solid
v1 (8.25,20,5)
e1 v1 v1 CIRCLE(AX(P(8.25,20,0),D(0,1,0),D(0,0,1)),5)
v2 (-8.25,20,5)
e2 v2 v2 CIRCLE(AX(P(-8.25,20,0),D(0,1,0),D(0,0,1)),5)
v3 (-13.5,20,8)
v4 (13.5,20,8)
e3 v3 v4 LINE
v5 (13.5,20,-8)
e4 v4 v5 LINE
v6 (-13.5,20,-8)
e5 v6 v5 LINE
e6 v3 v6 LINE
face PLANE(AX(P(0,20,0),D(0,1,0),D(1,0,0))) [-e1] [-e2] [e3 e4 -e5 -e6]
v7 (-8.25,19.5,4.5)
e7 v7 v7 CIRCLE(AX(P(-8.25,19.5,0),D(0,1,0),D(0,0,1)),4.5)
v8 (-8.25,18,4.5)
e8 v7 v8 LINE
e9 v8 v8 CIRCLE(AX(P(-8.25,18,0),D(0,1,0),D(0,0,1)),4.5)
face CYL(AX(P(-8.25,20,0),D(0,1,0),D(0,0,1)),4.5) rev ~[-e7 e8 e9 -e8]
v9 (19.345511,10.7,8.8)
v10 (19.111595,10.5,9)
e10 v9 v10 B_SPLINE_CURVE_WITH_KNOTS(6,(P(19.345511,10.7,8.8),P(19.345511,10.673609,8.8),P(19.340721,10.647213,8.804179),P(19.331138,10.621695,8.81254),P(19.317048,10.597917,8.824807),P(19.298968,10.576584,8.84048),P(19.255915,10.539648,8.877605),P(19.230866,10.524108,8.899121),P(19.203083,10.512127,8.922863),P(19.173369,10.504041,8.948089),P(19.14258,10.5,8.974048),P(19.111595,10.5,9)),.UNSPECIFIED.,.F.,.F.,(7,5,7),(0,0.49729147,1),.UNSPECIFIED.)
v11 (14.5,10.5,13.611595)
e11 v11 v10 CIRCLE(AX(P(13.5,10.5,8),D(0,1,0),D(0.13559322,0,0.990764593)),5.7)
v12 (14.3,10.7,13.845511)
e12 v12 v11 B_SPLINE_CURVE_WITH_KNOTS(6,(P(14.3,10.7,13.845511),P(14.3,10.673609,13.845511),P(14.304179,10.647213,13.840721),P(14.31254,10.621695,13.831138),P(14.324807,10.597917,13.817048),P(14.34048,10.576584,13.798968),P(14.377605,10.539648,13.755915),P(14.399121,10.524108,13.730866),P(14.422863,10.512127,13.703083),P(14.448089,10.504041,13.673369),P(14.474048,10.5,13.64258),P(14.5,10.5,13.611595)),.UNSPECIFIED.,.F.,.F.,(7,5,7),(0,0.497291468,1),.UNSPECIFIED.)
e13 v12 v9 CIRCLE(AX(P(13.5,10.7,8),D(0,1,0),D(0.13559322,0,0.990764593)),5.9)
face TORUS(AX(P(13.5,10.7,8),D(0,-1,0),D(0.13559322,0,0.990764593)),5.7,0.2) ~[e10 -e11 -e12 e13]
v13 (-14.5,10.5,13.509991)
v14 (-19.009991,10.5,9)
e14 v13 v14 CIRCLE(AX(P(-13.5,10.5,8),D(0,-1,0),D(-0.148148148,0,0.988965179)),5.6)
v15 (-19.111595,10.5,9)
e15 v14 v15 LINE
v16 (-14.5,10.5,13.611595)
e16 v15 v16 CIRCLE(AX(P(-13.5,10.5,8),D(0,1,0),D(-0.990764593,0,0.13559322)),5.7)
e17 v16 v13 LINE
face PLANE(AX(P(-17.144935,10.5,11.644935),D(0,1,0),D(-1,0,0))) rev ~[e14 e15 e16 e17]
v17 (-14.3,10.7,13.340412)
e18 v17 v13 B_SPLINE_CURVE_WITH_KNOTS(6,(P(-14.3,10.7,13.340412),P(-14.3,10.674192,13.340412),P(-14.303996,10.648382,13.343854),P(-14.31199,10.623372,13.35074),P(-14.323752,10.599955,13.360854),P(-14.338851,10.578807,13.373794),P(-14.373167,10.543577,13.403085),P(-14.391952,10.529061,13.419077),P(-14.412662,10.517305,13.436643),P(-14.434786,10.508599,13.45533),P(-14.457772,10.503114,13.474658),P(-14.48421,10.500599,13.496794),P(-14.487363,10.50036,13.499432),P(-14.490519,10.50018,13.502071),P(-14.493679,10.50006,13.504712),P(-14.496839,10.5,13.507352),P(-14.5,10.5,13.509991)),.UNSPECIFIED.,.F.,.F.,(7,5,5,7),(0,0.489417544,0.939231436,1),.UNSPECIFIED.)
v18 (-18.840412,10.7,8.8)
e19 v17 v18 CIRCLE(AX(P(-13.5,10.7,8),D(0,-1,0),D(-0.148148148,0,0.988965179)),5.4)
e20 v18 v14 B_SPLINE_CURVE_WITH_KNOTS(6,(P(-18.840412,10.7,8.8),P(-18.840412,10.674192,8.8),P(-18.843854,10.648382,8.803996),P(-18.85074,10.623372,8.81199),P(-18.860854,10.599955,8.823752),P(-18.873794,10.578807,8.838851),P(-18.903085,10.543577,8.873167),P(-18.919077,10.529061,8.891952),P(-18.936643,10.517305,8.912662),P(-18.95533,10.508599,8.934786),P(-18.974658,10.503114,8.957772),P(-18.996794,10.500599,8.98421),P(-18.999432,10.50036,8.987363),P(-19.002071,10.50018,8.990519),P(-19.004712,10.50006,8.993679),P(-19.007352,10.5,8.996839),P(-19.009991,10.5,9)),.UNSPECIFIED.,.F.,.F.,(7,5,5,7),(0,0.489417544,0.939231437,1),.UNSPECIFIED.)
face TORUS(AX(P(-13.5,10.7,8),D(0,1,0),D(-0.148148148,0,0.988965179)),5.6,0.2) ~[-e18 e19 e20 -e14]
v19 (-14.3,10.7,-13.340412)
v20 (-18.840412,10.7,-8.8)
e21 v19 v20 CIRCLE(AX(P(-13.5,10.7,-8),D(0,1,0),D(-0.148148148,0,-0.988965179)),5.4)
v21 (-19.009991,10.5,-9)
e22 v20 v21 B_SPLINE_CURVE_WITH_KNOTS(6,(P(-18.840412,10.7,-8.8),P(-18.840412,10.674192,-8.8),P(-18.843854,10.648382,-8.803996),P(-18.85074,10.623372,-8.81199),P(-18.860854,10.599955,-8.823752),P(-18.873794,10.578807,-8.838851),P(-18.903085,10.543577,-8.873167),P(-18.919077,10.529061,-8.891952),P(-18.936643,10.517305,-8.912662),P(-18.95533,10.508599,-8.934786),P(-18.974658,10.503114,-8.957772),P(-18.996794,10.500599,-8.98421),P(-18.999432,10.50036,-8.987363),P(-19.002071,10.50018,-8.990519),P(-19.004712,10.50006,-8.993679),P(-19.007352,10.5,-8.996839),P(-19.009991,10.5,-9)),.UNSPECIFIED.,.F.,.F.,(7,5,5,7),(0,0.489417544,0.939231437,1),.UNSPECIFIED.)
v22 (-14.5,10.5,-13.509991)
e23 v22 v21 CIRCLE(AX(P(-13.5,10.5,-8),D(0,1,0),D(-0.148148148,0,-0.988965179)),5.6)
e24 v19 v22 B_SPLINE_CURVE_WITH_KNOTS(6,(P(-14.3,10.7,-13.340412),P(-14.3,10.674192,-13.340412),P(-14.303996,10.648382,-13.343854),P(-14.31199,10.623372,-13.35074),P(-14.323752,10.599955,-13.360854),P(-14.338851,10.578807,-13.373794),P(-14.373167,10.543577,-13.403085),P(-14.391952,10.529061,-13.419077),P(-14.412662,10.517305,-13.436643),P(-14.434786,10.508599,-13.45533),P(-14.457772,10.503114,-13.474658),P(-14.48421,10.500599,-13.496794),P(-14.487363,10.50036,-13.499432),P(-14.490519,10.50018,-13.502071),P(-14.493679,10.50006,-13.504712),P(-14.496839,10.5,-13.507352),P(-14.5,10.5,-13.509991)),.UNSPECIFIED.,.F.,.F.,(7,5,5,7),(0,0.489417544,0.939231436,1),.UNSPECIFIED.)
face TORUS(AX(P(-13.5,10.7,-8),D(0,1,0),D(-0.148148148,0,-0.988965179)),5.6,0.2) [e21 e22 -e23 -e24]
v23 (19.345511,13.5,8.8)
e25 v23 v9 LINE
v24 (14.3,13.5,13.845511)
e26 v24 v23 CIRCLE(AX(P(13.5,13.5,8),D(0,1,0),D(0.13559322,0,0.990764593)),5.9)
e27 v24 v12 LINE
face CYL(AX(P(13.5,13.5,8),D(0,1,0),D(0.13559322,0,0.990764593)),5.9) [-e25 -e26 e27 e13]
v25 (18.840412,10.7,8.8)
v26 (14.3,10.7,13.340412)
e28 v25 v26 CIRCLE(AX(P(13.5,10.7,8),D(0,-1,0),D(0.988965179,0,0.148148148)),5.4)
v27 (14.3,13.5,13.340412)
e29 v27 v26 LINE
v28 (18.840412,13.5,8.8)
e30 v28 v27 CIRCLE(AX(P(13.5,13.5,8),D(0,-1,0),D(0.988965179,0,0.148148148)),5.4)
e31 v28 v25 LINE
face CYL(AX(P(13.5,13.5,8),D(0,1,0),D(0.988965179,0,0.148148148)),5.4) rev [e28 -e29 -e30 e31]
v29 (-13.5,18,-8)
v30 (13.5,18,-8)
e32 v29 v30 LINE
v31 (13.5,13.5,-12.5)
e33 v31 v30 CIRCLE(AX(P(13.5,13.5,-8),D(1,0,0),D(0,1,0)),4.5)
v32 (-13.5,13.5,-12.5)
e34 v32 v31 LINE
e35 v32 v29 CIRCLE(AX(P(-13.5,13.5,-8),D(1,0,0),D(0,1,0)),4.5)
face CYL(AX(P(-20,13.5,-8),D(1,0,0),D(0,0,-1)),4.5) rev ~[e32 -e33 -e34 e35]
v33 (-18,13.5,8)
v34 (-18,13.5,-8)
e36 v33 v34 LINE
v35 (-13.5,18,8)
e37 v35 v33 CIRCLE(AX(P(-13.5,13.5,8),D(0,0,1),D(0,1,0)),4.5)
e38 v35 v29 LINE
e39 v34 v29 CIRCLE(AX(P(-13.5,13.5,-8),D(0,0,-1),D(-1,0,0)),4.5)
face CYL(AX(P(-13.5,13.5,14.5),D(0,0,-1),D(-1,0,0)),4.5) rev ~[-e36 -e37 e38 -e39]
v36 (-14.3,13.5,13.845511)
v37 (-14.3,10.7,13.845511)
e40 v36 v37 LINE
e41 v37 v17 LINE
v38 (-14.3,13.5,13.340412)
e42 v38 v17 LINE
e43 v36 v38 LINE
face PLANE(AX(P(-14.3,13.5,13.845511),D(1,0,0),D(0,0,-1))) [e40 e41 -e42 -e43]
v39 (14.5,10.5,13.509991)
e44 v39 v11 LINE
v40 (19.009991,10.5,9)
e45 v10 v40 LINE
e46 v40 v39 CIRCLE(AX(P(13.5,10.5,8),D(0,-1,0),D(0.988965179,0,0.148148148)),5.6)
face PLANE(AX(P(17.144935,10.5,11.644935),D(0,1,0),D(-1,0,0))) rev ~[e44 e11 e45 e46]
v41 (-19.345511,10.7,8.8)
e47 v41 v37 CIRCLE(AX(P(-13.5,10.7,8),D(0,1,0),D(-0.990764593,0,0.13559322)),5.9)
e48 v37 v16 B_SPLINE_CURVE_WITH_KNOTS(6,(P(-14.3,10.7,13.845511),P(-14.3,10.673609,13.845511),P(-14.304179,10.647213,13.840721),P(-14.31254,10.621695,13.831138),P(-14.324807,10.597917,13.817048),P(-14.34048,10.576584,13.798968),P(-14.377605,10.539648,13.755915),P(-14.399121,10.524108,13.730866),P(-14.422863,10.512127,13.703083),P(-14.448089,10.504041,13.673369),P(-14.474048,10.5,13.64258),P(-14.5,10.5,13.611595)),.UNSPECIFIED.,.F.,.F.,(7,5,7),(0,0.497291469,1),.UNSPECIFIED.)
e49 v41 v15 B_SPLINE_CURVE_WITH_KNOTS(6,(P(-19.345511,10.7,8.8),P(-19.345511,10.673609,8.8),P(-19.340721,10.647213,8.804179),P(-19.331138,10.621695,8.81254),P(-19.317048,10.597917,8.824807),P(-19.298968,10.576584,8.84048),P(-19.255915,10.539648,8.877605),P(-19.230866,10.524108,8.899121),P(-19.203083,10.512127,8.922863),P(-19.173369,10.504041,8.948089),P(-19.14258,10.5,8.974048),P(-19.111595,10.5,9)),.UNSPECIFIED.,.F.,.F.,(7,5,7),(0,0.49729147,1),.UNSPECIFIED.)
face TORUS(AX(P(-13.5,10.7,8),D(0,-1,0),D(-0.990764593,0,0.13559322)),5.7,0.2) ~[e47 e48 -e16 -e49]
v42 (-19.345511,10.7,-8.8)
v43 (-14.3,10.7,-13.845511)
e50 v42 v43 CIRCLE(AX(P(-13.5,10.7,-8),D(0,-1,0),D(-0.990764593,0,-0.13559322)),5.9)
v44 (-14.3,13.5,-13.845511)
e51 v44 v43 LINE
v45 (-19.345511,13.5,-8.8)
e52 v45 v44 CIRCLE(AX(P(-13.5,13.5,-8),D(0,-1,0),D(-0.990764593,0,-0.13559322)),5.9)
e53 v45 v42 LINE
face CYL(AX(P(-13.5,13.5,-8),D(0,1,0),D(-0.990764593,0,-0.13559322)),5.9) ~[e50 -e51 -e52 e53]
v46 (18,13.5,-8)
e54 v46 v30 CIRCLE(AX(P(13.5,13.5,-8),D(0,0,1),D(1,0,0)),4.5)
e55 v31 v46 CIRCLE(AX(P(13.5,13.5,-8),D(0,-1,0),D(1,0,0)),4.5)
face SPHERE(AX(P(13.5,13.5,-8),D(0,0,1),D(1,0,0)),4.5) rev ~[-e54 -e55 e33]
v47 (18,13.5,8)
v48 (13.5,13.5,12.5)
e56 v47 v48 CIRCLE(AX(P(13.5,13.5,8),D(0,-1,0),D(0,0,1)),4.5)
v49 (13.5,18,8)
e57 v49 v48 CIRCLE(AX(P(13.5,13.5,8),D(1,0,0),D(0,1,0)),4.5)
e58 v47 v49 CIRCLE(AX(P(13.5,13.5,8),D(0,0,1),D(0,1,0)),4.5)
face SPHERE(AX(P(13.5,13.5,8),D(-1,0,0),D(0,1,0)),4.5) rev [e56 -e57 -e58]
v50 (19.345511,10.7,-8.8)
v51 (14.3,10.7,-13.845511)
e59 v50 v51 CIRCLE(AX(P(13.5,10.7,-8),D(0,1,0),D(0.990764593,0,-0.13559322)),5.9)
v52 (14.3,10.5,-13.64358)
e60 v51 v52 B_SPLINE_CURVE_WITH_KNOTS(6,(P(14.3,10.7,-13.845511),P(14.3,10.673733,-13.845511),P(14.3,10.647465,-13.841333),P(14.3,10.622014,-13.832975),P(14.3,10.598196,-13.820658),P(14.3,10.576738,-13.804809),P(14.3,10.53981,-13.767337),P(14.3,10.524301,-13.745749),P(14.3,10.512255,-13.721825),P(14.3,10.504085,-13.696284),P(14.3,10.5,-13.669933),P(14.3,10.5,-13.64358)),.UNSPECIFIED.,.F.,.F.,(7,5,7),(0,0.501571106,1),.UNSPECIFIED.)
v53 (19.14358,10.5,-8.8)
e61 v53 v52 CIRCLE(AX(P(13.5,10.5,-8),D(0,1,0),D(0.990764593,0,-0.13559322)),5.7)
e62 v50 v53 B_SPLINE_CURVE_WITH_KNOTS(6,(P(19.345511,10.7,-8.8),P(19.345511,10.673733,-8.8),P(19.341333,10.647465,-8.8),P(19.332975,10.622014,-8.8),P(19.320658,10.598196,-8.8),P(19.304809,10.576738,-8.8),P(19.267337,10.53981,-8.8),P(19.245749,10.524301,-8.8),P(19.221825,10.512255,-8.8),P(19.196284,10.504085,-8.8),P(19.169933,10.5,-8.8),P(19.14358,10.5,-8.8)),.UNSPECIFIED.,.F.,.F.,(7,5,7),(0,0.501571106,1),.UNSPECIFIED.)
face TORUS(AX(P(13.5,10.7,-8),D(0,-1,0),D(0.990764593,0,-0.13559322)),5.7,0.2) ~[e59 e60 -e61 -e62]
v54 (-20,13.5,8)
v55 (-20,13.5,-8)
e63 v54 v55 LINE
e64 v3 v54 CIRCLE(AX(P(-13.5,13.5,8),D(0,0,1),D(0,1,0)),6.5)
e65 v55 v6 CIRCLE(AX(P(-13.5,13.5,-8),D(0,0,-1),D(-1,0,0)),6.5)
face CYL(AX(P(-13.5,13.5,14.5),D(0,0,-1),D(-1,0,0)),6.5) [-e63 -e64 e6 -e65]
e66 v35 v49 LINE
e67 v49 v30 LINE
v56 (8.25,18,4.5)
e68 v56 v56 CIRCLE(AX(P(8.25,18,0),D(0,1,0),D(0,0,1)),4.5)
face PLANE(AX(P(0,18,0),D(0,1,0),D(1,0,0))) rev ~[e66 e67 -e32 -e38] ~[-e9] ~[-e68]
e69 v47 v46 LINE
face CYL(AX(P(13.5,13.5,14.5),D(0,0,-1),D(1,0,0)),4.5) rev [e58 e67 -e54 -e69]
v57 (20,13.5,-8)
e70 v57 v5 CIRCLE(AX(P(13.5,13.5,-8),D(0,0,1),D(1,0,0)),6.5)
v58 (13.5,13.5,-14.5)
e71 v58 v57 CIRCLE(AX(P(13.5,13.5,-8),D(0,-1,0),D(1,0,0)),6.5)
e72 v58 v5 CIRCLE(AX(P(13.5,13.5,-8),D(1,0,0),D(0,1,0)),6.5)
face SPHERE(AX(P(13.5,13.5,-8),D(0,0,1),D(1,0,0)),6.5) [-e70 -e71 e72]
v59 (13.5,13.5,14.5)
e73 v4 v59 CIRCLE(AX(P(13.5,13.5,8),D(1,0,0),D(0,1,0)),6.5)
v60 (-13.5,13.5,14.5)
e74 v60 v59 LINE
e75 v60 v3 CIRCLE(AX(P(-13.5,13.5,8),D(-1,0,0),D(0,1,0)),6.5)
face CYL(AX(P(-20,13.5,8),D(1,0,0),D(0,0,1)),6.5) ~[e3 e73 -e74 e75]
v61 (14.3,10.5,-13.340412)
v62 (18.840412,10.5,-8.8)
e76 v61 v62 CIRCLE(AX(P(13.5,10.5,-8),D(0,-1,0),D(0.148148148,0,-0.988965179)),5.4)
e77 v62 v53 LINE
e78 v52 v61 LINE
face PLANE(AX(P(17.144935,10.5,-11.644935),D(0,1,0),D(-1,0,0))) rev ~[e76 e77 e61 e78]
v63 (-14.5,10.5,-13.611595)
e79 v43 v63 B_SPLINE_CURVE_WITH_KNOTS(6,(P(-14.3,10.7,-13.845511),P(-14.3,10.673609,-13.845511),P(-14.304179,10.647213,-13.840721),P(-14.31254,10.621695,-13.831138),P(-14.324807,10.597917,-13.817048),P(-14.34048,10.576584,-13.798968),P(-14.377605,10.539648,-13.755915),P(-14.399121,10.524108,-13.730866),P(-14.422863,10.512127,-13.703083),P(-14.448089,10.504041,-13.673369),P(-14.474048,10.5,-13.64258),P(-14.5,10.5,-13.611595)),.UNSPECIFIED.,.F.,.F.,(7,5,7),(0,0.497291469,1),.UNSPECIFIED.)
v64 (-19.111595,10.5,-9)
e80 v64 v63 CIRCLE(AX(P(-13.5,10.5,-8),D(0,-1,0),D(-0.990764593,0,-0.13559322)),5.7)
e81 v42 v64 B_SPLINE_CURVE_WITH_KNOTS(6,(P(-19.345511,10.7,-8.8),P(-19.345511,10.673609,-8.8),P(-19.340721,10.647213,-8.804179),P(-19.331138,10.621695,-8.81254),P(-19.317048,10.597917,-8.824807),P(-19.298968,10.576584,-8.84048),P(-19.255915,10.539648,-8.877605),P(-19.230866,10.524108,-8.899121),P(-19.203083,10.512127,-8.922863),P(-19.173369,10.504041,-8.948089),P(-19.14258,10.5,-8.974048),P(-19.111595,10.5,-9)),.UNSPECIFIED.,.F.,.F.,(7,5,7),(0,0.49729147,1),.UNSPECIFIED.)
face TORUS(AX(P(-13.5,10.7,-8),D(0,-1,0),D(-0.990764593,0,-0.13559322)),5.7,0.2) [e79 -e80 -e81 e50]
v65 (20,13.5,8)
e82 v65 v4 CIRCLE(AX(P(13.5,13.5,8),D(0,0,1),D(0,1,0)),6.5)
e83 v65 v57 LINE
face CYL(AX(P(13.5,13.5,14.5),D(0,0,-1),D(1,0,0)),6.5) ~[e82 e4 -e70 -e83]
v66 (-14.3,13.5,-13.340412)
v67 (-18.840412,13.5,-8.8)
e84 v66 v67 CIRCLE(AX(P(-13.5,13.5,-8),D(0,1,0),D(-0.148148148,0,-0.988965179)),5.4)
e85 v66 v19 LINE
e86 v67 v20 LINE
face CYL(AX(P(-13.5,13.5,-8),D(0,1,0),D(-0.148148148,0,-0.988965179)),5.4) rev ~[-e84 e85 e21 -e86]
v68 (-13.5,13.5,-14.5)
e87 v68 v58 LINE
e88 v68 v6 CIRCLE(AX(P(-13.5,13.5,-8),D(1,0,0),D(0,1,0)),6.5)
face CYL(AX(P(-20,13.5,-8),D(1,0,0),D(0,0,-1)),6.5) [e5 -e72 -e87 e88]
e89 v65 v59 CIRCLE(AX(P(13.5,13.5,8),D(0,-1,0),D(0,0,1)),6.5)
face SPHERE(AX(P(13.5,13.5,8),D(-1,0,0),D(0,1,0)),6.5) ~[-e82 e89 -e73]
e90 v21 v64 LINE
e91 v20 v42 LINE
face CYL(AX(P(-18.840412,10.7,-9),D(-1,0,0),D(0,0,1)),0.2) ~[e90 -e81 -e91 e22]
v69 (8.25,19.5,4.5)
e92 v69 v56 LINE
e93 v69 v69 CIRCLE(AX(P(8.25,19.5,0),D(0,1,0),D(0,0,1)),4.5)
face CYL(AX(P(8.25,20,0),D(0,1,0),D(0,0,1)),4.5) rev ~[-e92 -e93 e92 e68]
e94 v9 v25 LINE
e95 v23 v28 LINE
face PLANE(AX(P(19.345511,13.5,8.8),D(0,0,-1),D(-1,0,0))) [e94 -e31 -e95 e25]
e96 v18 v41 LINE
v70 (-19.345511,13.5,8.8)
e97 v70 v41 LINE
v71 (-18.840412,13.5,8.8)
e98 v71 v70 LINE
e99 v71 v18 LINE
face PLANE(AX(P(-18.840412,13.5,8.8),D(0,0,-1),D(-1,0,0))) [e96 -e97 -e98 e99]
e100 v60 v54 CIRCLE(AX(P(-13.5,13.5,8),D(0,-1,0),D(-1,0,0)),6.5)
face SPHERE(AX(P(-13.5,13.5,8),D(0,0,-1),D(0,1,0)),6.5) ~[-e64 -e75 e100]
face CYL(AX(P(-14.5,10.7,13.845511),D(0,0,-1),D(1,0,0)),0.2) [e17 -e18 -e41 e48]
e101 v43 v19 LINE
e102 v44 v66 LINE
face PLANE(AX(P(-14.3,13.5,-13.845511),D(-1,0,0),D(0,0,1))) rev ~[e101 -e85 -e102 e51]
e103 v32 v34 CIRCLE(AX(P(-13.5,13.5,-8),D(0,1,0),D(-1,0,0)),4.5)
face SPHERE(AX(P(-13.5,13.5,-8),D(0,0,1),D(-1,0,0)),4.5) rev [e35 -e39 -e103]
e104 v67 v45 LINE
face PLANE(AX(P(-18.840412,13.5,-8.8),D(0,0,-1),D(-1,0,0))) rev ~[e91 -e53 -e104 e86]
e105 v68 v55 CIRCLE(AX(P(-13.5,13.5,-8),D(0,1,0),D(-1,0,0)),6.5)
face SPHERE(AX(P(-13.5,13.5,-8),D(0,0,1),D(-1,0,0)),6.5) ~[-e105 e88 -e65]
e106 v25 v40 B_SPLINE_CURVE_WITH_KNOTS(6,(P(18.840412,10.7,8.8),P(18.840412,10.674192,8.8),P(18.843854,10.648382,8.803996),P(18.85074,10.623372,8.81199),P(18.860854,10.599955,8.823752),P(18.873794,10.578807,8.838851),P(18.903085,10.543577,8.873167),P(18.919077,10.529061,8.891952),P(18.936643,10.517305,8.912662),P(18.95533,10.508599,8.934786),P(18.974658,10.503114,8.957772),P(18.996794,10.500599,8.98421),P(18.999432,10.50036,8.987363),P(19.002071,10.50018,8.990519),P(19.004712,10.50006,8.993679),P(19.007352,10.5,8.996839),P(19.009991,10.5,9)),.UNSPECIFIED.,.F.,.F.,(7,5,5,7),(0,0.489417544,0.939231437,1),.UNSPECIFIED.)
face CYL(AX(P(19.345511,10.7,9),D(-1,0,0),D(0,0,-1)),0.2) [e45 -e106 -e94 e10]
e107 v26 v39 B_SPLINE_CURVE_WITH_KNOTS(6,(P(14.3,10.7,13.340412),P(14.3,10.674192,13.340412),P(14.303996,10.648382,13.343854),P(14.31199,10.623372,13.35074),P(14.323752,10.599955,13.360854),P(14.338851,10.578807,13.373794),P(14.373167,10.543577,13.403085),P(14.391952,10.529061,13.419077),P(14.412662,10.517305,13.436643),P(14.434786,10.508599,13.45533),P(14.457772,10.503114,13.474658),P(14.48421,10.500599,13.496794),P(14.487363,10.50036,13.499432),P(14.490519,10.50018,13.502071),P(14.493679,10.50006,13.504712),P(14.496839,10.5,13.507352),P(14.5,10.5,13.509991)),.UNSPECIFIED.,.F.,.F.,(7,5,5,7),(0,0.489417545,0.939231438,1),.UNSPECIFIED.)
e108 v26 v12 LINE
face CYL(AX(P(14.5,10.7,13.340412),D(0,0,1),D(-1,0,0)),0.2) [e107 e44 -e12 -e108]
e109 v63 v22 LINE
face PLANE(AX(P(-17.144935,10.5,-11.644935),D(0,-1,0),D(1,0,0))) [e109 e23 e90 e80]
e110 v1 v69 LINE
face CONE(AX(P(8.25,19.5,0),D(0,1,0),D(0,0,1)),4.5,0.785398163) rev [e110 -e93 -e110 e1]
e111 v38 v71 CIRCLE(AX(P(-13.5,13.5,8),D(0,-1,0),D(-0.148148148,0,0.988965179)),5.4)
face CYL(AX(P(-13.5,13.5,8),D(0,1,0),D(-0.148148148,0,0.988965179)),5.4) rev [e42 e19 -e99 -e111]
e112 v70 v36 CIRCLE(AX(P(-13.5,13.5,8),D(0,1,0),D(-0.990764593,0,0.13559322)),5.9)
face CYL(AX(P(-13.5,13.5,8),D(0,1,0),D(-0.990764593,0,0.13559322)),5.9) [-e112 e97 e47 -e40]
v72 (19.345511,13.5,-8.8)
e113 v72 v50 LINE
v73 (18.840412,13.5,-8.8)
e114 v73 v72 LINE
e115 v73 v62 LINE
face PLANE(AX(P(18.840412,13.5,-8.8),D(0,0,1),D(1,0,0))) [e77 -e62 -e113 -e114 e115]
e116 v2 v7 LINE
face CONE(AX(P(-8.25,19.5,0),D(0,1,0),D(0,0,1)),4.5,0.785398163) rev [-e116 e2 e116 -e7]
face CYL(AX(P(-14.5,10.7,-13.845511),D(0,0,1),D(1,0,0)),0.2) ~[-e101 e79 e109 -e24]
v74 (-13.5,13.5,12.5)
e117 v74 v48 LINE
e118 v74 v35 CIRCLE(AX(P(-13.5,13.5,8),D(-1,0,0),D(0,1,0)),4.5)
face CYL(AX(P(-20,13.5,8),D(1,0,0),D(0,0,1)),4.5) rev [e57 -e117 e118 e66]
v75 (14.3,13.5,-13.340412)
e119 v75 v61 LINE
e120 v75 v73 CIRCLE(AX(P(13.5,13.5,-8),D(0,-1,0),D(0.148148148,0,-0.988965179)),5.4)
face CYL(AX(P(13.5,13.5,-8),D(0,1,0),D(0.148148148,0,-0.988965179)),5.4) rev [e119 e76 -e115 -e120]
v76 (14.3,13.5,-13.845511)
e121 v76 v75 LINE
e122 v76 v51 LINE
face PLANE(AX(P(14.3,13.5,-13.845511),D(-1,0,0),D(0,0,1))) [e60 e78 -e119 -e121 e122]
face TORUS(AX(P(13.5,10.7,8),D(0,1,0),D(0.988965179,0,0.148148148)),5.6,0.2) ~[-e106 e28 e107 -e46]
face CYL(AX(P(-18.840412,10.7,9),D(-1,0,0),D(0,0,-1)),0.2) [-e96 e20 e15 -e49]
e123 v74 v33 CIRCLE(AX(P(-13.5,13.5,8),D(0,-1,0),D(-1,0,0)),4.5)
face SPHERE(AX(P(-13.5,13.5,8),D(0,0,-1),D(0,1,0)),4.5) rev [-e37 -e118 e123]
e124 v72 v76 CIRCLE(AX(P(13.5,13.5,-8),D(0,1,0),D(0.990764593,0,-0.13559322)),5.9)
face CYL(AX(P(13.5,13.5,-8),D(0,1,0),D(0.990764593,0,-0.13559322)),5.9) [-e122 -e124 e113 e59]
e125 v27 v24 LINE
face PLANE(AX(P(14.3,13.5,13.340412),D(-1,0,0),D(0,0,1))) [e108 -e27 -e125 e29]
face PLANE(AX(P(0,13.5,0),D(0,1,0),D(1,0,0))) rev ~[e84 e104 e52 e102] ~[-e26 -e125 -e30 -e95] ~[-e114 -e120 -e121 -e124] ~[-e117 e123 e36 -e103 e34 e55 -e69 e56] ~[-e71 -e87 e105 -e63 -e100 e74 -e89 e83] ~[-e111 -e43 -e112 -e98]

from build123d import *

# Parameters (mm, degrees)
SKETCH1_W           = 40
SKETCH1_H           = 29
BOSS_EXTRUDE1_DEPTH = 20
FILLET2_R           = 6.5
SKETCH3_W           = 48.982601016
SKETCH3_H           = 39.309165856
CUT_EXTRUDE1_DEPTH  = 14.5
SHELL1_T            = -2
BOSS_EXTRUDE3_DEPTH = 3
FILLET3_R           = 0.2
SKETCH6_R           = 4.5
CUT_EXTRUDE2_DEPTH  = 10.5000001
CHAMFER1_SIZE       = 0.5


with BuildPart() as part:
    # Sketch1 → Boss-Extrude1 (new body)
    with BuildSketch(Plane(origin=(0, 0, 0), x_dir=(1, 0, 0), z_dir=(0, 1, 0))):
        Rectangle(SKETCH1_W, SKETCH1_H)
    extrude(amount=BOSS_EXTRUDE1_DEPTH)

    # Fillet2
    fillet2_edges = [part.edges().sort_by_distance(p)[0] for p in [
        (-20, 20, 0),
        (0, 20, 14.5),
        (20, 20, 0),
        (0, 0, 14.5),
        (-20, 0, 0),
        (0, 0, -14.5),
        (20, 0, 0),
        (20, 10, 14.5),
        (-20, 10, 14.5),
        (-20, 10, -14.5),
        (20, 10, -14.5),
        (0, 20, -14.5),
    ]]
    fillet(fillet2_edges, radius=FILLET2_R)

    # Sketch3 → Cut-Extrude1 (cut, through all)
    with BuildSketch(Plane(origin=(0, 13.5, 0), x_dir=(1, 0, 0), z_dir=(0, 1, 0))):
        Rectangle(SKETCH3_W, SKETCH3_H)
    extrude(amount=-CUT_EXTRUDE1_DEPTH, mode=Mode.SUBTRACT)

    # Shell1
    shell1_openings = [part.faces().sort_by_distance(p)[0] for p in [
        (0, 13.5, 0),
    ]]
    offset(amount=SHELL1_T, openings=shell1_openings)

    # Sketch5 → Boss-Extrude3 (add)
    with BuildSketch(Plane.XZ.offset(-13.5)):
        with BuildLine():
            Line((-14.3, 13.845511098), (-14.3, 13.340411969))
            ThreePointArc((-14.3, 13.340411969), (-17.318376618, 11.818376618), (-18.840411969, 8.8))
            Line((-18.840411969, 8.8), (-19.345511098, 8.8))
            ThreePointArc((-19.345511098, 8.8), (-17.671930009, 12.171930009), (-14.3, 13.845511098))
        make_face()
        with BuildLine():
            Line((-14.3, -13.845511098), (-14.3, -13.340411969))
            ThreePointArc((-14.3, -13.340411969), (-17.318376618, -11.818376618), (-18.840411969, -8.8))
            Line((-18.840411969, -8.8), (-19.345511098, -8.8))
            ThreePointArc((-19.345511098, -8.8), (-17.671930009, -12.171930009), (-14.3, -13.845511098))
        make_face()
        with BuildLine():
            Line((14.3, -13.845511098), (14.3, -13.340411969))
            ThreePointArc((14.3, -13.340411969), (17.318376618, -11.818376618), (18.840411969, -8.8))
            Line((18.840411969, -8.8), (19.345511098, -8.8))
            ThreePointArc((19.345511098, -8.8), (17.671930009, -12.171930009), (14.3, -13.845511098))
        make_face()
        with BuildLine():
            Line((19.345511098, 8.8), (18.840411969, 8.8))
            ThreePointArc((18.840411969, 8.8), (17.318376618, 11.818376618), (14.3, 13.340411969))
            Line((14.3, 13.340411969), (14.3, 13.845511098))
            ThreePointArc((14.3, 13.845511098), (17.671930009, 12.171930009), (19.345511098, 8.8))
        make_face()
    extrude(amount=BOSS_EXTRUDE3_DEPTH)

    # Fillet3
    fillet3_edges = [part.edges().sort_by_distance(p)[0] for p in [
        (-17.318376618, 10.5, 11.818376618),
        (-17.671930009, 10.5, 12.171930009),
        (-17.318376618, 10.5, -11.818376618),
        (-17.671930009, 10.5, -12.171930009),
        (17.318376618, 10.5, 11.818376618),
        (17.671930009, 10.5, 12.171930009),
        (17.671930009, 10.5, -12.171930009),
        (-14.3, 10.5, 13.592961534),
        (-19.092961534, 10.5, 8.8),
        (-19.092961534, 10.5, -8.8),
        (-14.3, 10.5, -13.592961534),
        (19.092961534, 10.5, 8.8),
        (14.3, 10.5, 13.592961534),
    ]]
    fillet(fillet3_edges, radius=FILLET3_R)

    # Sketch6 → Cut-Extrude2 (cut, through all)
    with BuildSketch(Plane(origin=(0, 20, 0), x_dir=(1, 0, 0), z_dir=(0, 1, 0))):
        with Locations(Location((-8.25, 0, 0), (0, 0, 270))):  # turned: the seam where the file's is
            Circle(SKETCH6_R)
        with Locations(Location((8.25, 0, 0), (0, 0, 270))):  # turned: the seam where the file's is
            Circle(SKETCH6_R)
    extrude(amount=-CUT_EXTRUDE2_DEPTH, mode=Mode.SUBTRACT)

    # Chamfer1
    chamfer1_edges = [part.edges().sort_by_distance(p)[0] for p in [
        (-8.25, 20, -4.5),
        (8.25, 20, -4.5),
    ]]
    chamfer(chamfer1_edges, length=CHAMFER1_SIZE)


solid = part.part
